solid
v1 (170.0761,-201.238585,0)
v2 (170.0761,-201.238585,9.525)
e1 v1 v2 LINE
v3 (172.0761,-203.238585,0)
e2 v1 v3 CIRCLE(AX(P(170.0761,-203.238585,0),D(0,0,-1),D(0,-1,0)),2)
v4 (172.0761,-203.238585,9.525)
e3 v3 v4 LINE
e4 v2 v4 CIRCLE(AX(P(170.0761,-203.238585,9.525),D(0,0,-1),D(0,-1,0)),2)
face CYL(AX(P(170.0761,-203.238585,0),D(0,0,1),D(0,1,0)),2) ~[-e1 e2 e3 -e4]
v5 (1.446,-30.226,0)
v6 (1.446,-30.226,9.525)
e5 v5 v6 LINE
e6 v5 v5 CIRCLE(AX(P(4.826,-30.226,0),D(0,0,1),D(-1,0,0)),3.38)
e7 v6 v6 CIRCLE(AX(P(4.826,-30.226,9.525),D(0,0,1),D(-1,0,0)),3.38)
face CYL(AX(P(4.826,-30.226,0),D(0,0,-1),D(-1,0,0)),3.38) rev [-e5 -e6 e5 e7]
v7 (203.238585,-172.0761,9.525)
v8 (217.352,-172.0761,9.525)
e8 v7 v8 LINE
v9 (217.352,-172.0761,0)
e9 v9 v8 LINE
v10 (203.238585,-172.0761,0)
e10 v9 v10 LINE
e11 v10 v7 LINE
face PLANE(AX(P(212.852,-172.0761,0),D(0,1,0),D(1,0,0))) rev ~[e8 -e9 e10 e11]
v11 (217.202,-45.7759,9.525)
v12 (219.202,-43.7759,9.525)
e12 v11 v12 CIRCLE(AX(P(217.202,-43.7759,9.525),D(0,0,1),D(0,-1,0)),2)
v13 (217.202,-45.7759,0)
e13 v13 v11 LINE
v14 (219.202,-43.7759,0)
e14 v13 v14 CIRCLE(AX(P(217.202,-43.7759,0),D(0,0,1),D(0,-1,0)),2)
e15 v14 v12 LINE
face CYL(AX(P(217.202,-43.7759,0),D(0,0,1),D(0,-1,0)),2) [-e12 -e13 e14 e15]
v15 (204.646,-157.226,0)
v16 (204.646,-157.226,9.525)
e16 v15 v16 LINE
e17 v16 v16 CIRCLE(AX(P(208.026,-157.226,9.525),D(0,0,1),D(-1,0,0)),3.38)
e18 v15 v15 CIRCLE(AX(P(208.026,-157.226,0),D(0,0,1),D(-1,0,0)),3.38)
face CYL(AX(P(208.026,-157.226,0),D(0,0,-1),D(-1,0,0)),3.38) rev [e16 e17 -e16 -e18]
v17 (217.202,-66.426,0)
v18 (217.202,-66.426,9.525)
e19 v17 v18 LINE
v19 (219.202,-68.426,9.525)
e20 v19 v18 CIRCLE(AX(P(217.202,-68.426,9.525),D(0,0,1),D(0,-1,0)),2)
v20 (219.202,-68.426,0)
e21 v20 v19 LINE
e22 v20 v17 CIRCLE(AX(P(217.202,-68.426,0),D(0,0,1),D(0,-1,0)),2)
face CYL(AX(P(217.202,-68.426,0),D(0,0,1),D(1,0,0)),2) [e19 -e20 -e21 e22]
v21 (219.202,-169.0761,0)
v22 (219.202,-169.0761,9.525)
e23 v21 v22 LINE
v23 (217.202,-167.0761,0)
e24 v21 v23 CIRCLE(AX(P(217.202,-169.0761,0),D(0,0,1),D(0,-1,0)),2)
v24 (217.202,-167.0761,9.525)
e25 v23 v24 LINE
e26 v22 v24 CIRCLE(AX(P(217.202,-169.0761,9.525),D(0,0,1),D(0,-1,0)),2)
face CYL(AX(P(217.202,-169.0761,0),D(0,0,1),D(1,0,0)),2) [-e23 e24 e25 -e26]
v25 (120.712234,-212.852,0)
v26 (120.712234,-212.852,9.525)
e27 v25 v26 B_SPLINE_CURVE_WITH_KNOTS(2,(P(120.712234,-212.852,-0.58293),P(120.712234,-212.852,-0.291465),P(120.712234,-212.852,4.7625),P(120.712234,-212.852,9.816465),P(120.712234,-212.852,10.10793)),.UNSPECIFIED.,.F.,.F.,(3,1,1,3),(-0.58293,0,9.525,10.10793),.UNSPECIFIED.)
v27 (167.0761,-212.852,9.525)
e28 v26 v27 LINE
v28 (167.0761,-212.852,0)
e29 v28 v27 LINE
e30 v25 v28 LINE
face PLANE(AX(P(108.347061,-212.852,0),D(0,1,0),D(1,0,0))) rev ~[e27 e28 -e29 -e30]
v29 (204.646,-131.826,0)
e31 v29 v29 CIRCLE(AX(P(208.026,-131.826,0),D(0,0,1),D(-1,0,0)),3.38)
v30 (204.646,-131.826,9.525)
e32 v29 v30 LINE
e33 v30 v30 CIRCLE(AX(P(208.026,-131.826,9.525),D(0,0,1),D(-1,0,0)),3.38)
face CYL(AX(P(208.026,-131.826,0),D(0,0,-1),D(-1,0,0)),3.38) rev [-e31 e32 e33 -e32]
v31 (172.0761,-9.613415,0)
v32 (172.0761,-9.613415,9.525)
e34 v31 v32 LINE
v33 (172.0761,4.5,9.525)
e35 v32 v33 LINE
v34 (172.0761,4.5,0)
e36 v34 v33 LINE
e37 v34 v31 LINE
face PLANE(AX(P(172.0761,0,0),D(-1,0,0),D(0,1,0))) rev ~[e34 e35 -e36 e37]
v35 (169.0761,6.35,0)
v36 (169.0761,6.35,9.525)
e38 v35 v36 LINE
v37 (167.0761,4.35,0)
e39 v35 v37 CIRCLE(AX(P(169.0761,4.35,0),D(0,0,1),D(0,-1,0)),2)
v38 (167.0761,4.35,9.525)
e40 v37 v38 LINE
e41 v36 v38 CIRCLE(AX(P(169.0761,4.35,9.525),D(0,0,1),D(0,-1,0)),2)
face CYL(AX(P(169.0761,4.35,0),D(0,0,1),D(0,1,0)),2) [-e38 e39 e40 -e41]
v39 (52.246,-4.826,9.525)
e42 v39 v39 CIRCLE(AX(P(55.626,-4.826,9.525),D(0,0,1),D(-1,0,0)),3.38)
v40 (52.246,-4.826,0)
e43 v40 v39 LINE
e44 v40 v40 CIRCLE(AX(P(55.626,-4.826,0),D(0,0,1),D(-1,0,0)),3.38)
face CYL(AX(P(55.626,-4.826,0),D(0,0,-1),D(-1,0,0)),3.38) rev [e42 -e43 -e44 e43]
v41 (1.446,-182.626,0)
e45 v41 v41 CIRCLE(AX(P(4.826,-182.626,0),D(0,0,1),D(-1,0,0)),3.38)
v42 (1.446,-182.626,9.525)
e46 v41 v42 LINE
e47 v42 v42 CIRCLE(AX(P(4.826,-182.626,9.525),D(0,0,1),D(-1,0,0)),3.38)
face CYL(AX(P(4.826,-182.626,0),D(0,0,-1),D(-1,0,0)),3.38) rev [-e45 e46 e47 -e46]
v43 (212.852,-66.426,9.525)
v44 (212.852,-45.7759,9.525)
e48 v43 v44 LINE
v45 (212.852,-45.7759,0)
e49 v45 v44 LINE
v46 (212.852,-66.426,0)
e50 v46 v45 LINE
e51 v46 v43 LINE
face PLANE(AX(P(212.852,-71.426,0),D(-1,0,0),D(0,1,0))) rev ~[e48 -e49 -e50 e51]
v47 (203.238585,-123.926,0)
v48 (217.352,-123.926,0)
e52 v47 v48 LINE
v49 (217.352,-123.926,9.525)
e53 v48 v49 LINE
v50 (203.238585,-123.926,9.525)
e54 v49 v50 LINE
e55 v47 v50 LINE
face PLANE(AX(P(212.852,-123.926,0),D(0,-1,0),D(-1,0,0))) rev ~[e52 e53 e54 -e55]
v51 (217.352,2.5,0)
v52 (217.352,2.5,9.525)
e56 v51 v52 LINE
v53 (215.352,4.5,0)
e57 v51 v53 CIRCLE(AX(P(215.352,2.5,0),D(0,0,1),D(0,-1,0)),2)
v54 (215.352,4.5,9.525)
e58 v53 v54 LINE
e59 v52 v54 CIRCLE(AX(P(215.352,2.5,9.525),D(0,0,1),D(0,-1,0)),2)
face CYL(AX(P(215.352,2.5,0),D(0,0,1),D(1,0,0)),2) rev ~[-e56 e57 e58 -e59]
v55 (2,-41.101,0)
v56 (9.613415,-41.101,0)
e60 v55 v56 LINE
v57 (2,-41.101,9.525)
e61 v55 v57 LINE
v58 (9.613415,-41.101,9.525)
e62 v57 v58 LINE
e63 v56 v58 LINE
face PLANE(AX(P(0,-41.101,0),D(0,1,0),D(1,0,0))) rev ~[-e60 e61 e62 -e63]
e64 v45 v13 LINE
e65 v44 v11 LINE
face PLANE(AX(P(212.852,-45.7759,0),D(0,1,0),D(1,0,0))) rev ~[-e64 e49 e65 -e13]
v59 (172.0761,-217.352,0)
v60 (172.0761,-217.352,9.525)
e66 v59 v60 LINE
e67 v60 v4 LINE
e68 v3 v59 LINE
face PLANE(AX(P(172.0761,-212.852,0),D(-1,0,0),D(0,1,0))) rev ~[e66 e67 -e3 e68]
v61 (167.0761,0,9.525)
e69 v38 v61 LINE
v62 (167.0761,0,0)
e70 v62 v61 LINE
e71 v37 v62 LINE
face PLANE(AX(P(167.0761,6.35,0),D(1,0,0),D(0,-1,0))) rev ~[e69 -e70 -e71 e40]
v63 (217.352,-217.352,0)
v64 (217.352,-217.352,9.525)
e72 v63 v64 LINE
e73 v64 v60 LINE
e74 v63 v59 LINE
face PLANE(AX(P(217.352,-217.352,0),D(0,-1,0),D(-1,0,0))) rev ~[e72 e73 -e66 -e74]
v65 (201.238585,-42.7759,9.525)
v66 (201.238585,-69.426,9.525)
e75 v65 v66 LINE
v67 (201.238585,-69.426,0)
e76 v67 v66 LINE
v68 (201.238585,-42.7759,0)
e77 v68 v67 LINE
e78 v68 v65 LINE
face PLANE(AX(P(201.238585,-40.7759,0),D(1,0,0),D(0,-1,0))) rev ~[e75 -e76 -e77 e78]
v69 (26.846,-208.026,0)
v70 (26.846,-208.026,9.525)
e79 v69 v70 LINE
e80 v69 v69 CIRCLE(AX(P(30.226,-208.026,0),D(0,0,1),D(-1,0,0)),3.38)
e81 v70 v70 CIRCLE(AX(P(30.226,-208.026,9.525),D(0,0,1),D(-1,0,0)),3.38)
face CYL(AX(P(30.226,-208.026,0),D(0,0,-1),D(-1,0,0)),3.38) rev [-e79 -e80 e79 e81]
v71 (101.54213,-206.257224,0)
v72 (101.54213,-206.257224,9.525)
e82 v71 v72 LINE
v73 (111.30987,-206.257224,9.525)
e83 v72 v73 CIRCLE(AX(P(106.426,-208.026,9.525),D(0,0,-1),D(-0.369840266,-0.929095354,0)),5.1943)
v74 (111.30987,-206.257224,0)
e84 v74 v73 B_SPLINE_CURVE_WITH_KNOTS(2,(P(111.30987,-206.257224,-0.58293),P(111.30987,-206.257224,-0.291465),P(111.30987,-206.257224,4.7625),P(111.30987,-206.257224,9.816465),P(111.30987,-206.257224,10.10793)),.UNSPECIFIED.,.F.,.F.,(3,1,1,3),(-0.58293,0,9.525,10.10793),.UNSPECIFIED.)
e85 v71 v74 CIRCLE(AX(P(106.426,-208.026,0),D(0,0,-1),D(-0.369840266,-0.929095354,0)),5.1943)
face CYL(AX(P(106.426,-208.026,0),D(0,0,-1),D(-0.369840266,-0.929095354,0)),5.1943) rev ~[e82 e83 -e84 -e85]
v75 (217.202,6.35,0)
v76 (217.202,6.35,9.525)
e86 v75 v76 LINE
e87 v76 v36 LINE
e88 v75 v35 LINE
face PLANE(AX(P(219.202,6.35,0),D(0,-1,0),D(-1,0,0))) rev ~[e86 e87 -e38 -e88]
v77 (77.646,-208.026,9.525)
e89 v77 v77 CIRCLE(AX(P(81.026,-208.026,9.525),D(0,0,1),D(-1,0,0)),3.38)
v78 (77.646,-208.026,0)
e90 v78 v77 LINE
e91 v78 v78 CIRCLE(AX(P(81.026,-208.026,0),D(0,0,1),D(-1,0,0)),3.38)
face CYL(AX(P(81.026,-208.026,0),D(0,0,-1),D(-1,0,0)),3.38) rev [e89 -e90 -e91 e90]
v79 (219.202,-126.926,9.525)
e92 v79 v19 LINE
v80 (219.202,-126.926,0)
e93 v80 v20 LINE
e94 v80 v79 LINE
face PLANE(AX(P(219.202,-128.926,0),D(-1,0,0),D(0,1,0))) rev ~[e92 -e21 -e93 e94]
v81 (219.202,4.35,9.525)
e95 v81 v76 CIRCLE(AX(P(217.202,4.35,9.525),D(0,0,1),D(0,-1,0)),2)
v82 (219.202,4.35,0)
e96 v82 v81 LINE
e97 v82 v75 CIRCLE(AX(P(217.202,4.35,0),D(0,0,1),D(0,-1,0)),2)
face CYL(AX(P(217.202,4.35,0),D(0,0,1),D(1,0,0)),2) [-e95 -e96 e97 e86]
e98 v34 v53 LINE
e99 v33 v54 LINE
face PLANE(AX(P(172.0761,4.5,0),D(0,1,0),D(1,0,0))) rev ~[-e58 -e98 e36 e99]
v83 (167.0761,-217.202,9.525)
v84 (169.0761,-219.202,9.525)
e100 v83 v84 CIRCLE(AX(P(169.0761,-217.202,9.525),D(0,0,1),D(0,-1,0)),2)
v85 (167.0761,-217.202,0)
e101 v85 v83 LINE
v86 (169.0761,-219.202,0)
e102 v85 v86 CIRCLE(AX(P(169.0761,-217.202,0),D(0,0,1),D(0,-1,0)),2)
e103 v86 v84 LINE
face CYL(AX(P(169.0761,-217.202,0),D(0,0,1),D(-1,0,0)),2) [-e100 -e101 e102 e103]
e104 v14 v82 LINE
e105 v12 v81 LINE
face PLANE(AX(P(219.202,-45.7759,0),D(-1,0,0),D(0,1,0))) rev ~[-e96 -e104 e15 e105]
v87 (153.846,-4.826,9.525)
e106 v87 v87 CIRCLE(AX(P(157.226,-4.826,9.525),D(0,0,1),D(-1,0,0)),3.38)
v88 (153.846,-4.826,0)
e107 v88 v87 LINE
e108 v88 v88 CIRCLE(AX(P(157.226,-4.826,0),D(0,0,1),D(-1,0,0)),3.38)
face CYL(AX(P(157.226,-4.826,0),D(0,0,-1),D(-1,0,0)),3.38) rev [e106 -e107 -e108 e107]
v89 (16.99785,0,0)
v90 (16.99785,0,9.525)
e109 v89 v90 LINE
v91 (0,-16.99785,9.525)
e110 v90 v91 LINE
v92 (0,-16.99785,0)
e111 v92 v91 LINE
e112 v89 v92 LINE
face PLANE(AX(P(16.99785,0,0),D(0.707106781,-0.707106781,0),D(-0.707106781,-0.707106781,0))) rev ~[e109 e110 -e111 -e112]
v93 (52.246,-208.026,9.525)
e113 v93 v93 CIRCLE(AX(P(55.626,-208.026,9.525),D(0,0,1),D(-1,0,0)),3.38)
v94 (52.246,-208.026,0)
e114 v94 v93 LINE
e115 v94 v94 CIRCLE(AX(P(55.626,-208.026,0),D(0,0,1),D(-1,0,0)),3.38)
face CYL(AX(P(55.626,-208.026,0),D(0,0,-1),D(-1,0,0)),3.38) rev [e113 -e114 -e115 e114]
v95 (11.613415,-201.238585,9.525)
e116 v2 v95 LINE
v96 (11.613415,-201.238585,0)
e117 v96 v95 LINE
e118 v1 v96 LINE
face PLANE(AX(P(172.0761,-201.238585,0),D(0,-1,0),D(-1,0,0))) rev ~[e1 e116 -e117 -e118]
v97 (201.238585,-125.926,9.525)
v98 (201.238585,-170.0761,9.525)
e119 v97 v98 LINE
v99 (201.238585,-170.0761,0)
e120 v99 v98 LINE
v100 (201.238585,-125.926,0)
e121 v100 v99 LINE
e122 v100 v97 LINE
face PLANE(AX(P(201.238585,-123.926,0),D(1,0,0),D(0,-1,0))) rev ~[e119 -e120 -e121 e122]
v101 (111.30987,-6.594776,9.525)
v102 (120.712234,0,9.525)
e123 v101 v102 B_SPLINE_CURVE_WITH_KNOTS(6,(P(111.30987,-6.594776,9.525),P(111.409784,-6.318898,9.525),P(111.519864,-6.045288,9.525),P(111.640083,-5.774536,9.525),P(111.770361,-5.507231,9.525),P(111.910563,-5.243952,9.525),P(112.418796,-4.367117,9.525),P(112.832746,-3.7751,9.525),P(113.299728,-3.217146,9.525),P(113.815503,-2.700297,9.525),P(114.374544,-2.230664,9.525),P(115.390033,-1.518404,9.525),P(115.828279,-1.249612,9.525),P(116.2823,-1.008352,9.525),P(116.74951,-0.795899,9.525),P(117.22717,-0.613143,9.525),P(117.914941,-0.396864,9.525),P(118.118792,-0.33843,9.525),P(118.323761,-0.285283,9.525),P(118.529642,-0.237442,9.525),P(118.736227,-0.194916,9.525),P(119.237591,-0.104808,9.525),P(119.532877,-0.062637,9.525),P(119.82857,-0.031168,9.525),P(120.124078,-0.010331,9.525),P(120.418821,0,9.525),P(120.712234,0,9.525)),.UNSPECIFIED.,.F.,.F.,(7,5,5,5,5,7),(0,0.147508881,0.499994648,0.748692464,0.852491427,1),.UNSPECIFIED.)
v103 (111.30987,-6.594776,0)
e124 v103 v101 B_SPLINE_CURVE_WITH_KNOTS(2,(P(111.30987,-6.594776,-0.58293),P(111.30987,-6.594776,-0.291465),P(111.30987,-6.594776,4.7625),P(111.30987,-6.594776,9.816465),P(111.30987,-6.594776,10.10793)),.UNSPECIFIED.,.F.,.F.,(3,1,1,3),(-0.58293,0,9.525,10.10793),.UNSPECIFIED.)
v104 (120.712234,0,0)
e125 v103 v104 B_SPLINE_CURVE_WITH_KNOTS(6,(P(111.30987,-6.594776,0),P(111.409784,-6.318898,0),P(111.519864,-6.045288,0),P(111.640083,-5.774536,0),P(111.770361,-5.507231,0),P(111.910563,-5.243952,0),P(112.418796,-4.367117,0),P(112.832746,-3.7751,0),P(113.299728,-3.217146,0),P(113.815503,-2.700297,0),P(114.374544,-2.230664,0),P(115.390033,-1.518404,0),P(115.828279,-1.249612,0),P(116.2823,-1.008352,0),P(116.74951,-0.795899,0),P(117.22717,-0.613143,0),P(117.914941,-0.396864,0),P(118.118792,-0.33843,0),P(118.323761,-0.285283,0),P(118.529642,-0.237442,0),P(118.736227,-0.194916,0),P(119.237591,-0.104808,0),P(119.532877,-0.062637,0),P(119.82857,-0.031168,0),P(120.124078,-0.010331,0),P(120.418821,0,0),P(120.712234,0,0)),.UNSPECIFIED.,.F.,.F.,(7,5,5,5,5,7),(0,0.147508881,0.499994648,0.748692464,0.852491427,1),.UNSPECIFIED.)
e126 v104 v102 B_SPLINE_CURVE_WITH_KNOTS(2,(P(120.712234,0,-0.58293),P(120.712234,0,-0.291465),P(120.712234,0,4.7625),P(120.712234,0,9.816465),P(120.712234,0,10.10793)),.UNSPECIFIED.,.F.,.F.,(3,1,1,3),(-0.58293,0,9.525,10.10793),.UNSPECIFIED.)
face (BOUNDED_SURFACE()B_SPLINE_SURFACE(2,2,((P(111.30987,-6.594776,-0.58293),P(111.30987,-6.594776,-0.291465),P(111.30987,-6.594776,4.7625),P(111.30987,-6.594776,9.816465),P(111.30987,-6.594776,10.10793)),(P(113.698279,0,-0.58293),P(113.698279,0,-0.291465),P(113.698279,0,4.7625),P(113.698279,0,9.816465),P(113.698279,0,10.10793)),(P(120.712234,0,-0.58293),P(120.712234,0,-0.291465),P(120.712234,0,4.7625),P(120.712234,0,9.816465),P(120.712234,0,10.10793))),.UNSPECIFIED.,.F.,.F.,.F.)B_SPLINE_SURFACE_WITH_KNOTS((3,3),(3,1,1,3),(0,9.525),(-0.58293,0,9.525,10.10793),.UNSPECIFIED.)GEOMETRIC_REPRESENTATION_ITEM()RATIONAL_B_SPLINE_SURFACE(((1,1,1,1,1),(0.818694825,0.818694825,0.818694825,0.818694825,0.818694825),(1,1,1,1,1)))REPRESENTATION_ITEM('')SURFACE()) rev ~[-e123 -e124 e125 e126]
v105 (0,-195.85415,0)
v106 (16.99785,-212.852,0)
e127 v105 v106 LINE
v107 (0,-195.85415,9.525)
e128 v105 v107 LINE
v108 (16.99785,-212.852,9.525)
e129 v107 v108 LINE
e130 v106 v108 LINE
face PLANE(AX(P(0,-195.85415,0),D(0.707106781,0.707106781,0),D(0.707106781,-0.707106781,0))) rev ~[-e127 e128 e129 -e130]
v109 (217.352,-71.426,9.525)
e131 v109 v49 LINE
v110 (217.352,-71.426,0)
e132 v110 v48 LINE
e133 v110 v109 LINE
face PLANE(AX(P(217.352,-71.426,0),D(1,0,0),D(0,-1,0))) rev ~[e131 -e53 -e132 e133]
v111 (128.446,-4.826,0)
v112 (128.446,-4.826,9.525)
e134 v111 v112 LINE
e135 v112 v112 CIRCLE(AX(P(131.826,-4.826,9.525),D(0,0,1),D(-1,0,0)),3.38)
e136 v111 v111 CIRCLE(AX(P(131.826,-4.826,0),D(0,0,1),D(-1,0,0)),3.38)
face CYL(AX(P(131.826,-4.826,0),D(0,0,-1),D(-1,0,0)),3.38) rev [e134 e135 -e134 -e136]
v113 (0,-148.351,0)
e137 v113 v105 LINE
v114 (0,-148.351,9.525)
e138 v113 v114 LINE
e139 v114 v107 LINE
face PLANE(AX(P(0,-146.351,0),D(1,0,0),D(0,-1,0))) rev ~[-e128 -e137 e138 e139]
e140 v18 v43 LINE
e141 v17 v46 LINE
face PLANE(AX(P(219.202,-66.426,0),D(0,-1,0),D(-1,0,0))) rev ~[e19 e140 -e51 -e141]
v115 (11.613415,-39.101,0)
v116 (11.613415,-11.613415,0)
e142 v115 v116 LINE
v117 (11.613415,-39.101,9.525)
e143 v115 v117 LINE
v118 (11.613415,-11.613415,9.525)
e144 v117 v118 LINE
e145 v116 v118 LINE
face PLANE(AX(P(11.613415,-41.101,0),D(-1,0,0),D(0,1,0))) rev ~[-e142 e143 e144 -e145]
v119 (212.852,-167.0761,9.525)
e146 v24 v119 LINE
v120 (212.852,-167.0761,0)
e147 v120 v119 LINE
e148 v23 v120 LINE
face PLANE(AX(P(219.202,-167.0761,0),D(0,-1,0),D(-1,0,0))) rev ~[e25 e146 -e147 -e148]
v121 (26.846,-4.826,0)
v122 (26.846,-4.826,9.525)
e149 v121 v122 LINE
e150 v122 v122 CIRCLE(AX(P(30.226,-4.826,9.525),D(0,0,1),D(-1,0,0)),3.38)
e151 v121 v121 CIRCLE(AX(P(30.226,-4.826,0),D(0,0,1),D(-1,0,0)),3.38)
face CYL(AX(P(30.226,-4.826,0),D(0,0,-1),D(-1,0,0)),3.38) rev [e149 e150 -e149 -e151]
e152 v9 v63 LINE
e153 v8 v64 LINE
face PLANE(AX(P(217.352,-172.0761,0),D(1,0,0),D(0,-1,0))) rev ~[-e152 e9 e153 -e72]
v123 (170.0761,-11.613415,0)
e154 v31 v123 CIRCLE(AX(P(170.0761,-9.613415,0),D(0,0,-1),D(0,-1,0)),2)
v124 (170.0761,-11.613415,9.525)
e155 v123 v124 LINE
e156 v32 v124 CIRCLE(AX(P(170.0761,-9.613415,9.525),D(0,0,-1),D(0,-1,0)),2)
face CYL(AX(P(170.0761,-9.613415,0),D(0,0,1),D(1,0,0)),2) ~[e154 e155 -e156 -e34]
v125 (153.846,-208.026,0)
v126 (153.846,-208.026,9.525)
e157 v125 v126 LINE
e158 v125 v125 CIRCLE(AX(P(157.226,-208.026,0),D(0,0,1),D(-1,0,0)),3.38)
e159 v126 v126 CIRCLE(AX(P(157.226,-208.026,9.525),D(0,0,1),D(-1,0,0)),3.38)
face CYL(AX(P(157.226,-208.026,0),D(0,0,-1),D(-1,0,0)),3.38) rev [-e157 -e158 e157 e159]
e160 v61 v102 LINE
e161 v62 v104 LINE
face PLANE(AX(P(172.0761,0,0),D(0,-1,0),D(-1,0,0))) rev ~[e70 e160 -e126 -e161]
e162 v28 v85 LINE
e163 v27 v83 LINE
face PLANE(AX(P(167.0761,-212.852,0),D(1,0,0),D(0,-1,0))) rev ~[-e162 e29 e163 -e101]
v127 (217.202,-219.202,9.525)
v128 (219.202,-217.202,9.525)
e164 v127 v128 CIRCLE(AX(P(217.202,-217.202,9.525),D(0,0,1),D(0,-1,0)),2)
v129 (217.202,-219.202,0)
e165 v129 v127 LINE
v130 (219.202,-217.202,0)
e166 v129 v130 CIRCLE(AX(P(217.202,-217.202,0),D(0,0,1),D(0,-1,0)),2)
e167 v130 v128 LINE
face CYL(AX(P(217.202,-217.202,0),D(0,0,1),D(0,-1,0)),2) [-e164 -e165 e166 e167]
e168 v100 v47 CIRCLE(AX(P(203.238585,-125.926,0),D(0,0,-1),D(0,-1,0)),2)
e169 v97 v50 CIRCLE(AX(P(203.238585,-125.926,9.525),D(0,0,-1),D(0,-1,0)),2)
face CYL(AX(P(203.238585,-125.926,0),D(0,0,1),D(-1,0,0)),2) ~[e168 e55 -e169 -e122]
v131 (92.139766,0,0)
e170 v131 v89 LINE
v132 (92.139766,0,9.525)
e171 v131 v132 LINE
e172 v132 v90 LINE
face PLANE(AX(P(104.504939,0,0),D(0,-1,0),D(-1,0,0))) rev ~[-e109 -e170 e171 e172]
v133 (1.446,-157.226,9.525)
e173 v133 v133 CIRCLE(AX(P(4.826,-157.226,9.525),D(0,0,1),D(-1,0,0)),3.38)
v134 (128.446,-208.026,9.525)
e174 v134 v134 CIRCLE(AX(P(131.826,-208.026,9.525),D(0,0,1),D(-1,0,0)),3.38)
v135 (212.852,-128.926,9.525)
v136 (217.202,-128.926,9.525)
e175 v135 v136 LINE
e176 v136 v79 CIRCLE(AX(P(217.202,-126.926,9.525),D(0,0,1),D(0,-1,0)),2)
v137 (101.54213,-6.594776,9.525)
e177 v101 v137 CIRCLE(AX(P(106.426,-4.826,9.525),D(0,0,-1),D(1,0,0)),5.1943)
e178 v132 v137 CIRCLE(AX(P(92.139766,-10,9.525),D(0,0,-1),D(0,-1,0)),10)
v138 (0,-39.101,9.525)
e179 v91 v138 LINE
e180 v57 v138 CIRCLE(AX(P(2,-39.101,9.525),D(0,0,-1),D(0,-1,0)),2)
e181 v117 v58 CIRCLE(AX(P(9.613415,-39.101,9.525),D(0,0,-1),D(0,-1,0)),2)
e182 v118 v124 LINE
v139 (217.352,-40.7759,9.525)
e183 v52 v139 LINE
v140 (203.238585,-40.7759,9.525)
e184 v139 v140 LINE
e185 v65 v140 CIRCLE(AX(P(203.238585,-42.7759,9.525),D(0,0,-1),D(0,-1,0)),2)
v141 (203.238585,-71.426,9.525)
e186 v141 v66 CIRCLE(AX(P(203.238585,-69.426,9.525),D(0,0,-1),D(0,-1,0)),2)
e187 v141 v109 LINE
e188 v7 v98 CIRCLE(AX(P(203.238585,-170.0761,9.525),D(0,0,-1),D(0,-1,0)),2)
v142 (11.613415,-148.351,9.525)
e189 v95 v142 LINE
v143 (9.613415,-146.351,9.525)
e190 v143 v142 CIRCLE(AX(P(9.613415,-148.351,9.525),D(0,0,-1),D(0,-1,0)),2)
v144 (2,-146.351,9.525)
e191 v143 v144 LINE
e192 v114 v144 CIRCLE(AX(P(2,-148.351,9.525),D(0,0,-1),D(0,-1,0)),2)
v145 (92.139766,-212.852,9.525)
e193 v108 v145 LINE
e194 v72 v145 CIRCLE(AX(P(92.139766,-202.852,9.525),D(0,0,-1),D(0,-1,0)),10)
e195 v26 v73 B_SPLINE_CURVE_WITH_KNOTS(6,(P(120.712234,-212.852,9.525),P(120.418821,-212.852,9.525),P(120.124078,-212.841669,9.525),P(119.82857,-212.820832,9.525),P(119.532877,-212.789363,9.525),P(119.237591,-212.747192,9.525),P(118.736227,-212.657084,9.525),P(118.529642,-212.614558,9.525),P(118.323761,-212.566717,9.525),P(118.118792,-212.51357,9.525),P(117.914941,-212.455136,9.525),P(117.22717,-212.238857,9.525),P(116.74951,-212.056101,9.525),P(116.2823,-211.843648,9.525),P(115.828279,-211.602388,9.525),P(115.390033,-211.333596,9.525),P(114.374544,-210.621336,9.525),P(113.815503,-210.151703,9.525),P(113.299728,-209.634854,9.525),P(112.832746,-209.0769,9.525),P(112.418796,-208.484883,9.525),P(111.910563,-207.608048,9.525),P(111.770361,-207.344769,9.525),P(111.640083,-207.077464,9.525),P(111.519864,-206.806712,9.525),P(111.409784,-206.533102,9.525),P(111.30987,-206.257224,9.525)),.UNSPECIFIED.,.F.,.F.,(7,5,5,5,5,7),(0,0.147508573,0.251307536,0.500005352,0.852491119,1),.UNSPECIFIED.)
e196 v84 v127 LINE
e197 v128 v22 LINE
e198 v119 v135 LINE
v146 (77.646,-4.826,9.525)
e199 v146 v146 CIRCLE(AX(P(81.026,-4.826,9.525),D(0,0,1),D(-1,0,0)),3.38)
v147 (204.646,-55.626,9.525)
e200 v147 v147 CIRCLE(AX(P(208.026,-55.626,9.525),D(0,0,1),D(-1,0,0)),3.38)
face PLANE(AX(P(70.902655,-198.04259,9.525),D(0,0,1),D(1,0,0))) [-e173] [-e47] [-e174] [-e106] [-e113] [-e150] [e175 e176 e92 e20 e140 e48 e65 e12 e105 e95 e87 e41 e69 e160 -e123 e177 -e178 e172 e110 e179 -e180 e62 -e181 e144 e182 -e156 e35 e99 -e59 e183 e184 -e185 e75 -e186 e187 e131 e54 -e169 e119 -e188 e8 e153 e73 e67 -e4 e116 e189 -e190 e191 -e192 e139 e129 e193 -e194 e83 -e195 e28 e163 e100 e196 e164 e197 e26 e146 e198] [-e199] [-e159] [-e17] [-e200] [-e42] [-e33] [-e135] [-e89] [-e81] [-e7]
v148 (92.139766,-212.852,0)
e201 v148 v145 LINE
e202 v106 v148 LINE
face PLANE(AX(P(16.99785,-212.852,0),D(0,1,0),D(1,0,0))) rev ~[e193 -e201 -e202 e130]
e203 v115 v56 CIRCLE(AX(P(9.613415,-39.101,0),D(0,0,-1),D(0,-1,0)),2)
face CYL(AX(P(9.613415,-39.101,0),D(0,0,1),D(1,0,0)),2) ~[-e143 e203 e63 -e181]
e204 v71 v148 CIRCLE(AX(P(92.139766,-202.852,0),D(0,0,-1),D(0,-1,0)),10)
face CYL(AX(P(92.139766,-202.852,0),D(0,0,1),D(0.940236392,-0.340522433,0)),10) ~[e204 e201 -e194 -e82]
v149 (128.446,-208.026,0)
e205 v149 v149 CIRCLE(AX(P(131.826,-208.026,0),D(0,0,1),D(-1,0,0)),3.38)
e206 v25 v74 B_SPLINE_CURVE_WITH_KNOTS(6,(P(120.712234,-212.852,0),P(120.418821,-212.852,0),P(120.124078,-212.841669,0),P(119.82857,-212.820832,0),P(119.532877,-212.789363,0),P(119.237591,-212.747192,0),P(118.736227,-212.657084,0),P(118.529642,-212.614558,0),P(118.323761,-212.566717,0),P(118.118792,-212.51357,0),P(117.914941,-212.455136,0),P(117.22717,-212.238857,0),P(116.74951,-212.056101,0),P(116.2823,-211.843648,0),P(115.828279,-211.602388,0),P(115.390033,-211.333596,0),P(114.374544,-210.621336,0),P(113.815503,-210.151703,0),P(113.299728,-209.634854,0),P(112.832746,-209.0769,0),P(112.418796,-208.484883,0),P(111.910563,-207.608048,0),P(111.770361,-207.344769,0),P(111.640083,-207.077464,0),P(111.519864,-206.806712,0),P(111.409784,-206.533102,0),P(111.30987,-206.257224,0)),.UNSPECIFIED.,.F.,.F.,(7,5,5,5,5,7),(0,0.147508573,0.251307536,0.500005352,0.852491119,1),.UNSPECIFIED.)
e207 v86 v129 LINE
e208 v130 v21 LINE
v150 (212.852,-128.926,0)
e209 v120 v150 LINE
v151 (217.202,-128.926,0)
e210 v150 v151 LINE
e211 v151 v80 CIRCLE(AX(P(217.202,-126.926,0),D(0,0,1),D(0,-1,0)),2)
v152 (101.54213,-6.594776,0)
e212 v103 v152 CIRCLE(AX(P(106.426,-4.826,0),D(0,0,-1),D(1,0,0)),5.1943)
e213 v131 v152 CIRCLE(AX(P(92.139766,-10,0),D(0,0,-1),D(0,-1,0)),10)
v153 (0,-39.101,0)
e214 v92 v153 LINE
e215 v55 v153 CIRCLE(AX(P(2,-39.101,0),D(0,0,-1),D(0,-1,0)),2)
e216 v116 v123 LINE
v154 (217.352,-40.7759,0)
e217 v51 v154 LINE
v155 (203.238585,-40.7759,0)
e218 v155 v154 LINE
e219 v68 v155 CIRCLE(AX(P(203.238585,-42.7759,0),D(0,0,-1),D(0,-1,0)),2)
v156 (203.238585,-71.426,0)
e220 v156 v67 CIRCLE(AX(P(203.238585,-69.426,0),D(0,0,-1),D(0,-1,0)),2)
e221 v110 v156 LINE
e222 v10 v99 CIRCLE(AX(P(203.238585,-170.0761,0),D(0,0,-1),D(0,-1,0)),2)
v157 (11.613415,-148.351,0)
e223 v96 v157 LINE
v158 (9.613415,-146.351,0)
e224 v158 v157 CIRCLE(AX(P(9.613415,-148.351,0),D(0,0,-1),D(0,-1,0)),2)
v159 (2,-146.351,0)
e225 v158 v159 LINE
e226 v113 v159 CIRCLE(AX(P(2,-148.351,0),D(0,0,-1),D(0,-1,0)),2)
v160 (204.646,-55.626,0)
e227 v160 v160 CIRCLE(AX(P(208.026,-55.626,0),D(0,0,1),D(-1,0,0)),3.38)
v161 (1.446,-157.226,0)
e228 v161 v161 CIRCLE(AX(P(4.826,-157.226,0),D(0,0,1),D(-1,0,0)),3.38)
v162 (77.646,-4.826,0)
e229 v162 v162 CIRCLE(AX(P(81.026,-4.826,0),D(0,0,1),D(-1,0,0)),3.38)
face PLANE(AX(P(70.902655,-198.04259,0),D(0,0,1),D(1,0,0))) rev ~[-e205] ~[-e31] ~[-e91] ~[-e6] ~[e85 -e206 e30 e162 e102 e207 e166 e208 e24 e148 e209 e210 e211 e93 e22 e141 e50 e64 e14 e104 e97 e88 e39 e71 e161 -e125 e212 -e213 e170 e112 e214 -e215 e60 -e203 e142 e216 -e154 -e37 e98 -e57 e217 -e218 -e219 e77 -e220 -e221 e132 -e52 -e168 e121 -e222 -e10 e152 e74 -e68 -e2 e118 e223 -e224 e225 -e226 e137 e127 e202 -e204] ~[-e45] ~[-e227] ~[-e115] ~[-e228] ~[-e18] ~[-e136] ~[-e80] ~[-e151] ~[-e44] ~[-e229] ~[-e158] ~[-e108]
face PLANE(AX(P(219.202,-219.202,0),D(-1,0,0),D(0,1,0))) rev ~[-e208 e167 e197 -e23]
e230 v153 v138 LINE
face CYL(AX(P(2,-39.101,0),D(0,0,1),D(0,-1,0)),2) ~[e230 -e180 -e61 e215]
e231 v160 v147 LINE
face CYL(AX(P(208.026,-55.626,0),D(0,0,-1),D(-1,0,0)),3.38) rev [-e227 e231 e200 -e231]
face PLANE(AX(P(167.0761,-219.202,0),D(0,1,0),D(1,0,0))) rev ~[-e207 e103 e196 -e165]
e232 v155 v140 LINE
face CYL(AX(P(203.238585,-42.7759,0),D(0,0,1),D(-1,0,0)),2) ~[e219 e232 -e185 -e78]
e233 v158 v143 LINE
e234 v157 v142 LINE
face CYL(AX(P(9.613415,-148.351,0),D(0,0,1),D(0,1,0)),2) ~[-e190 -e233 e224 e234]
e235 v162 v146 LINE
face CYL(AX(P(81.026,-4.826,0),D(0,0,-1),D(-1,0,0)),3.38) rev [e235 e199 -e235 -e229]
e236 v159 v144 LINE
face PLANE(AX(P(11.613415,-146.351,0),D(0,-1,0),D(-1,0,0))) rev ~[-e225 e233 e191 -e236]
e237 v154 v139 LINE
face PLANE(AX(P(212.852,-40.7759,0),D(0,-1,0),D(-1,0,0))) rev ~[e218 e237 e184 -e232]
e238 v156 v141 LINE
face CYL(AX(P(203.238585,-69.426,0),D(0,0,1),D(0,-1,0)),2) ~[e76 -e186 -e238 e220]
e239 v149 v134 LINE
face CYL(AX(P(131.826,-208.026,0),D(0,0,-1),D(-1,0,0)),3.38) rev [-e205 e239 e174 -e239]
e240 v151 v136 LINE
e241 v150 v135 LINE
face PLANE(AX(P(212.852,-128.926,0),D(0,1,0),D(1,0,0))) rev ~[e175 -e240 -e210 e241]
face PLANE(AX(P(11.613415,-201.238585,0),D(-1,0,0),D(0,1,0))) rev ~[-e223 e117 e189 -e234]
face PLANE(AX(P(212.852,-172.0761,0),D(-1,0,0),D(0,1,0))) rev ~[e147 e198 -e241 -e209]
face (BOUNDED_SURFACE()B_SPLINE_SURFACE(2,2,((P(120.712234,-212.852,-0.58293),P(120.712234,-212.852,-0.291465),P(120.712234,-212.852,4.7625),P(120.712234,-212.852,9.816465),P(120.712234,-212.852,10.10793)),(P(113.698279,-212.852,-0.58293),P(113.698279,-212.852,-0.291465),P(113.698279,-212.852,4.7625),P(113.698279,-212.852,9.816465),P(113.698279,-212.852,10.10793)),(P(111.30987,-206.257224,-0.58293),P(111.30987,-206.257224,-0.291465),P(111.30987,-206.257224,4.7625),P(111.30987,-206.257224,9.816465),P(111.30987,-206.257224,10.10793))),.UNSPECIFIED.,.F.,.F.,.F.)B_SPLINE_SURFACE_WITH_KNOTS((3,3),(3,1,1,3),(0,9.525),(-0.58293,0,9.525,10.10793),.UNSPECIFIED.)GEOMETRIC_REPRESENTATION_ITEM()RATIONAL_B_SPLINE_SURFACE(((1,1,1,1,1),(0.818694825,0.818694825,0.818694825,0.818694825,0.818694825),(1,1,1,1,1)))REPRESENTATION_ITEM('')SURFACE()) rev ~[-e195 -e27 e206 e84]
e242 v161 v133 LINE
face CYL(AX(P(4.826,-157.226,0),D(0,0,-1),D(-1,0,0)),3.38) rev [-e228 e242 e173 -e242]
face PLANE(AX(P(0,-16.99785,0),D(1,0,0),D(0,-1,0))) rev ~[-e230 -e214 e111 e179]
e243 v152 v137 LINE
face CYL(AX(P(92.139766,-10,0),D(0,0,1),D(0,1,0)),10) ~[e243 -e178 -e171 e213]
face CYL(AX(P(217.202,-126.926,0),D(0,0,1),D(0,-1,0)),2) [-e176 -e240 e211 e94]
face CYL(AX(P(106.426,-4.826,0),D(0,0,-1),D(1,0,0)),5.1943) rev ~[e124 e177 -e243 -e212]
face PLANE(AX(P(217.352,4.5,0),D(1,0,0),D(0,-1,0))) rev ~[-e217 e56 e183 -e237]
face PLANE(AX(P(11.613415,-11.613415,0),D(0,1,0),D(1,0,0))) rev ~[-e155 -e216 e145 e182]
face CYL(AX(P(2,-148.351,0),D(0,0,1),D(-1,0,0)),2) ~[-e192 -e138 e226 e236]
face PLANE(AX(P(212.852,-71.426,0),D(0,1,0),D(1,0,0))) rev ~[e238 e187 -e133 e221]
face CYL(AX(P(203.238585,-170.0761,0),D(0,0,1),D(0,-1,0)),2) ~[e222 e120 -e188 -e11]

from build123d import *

# Parameters (mm, degrees)
SKETCH1_R           = 3.38
BOSS_EXTRUDE1_DEPTH = 9.525
FILLET1_R           = 10
FILLET2_R           = 2


with BuildPart() as part:
    # Sketch1 → Boss-Extrude1 (new body)
    # profile 1 of 7: a face of its own
    with BuildSketch(Plane.XY):
        Polygon((212.852, -66.426), (212.852, -71.426), (217.352, -71.426), (217.352, -123.926), (212.852, -123.926), (212.852, -128.926), (219.202, -128.926), (219.202, -66.426), align=None)
    # profile 2 of 7: a face of its own
    with BuildSketch(Plane.XY):
        Polygon((212.852, -40.7759), (201.238585453, -40.7759), (201.238585453, -71.426), (212.852, -71.426), (212.852, -66.426), (212.852, -45.7759), align=None)
        with Locations(Location((208.026, -55.626, 0), (0, 0, 180))):
            Circle(SKETCH1_R, mode=Mode.SUBTRACT)
    # profile 3 of 7: a face of its own
    with BuildSketch(Plane.XY):
        Polygon((212.852, -123.926), (201.238585453, -123.926), (201.238585453, -172.0761), (212.852, -172.0761), (212.852, -167.0761), (212.852, -128.926), align=None)
        with Locations(Location((208.026, -157.226, 0), (0, 0, 180))):
            Circle(SKETCH1_R, mode=Mode.SUBTRACT)
        with Locations(Location((208.026, -131.826, 0), (0, 0, 180))):
            Circle(SKETCH1_R, mode=Mode.SUBTRACT)
    # profile 4 of 7: a face of its own
    with BuildSketch(Plane.XY):
        Polygon((172.0761, -217.352), (172.0761, -212.852), (167.0761, -212.852), (167.0761, -219.202), (219.202, -219.202), (219.202, -167.0761), (212.852, -167.0761), (212.852, -172.0761), (217.352, -172.0761), (217.352, -217.352), align=None)
    # profile 5 of 7: a face of its own
    with BuildSketch(Plane.XY):
        Polygon((167.0761, 0), (172.0761, 0), (172.0761, 4.5), (217.352, 4.5), (217.352, -40.7759), (212.852, -40.7759), (212.852, -45.7759), (219.202, -45.7759), (219.202, 6.35), (167.0761, 6.35), align=None)
    # profile 6 of 7: a face of its own
    with BuildSketch(Plane.XY):
        with BuildLine():
            Line((11.613414547, -41.101), (11.613414547, -11.613414547))
            Line((11.613414547, -11.613414547), (172.0761, -11.613414547))
            Line((172.0761, -11.613414547), (172.0761, 0))
            Line((172.0761, 0), (167.0761, 0))
            Line((167.0761, 0), (108.347061293, 0))
            ThreePointArc((108.347061293, 0), (110.724797574, -1.910336798), (111.6203, -4.826))
            ThreePointArc((111.6203, -4.826), (103.510336798, -9.124797574), (104.504938707, 0))
            Line((104.504938707, 0), (16.997849507, 0))
            Line((16.997849507, 0), (0, -16.997849507))
            Line((0, -16.997849507), (0, -41.101))
            Line((0, -41.101), (11.613414547, -41.101))
        make_face()
        with Locations(Location((4.826, -30.226, 0), (0, 0, 180))):
            Circle(SKETCH1_R, mode=Mode.SUBTRACT)
        with Locations(Location((30.226, -4.826, 0), (0, 0, 180))):
            Circle(SKETCH1_R, mode=Mode.SUBTRACT)
        with Locations(Location((55.626, -4.826, 0), (0, 0, 180))):
            Circle(SKETCH1_R, mode=Mode.SUBTRACT)
        with Locations(Location((81.026, -4.826, 0), (0, 0, 180))):
            Circle(SKETCH1_R, mode=Mode.SUBTRACT)
        with Locations(Location((131.826, -4.826, 0), (0, 0, 180))):
            Circle(SKETCH1_R, mode=Mode.SUBTRACT)
        with Locations(Location((157.226, -4.826, 0), (0, 0, 180))):
            Circle(SKETCH1_R, mode=Mode.SUBTRACT)
    # profile 7 of 7: a face of its own
    with BuildSketch(Plane.XY):
        with BuildLine():
            Line((11.613414547, -201.238585453), (11.613414547, -146.351))
            Line((11.613414547, -146.351), (0, -146.351))
            Line((0, -146.351), (0, -195.854150493))
            Line((0, -195.854150493), (16.997849507, -212.852))
            Line((16.997849507, -212.852), (104.504938707, -212.852))
            ThreePointArc((104.504938707, -212.852), (103.510336798, -203.727202426), (111.6203, -208.026))
            ThreePointArc((111.6203, -208.026), (110.724797574, -210.941663202), (108.347061293, -212.852))
            Line((108.347061293, -212.852), (167.0761, -212.852))
            Line((167.0761, -212.852), (172.0761, -212.852))
            Line((172.0761, -212.852), (172.0761, -201.238585453))
            Line((172.0761, -201.238585453), (11.613414547, -201.238585453))
        make_face()
        with Locations(Location((30.226, -208.026, 0), (0, 0, 180))):
            Circle(SKETCH1_R, mode=Mode.SUBTRACT)
        with Locations(Location((4.826, -182.626, 0), (0, 0, 180))):
            Circle(SKETCH1_R, mode=Mode.SUBTRACT)
        with Locations(Location((55.626, -208.026, 0), (0, 0, 180))):
            Circle(SKETCH1_R, mode=Mode.SUBTRACT)
        with Locations(Location((81.026, -208.026, 0), (0, 0, 180))):
            Circle(SKETCH1_R, mode=Mode.SUBTRACT)
        with Locations(Location((4.826, -157.226, 0), (0, 0, 180))):
            Circle(SKETCH1_R, mode=Mode.SUBTRACT)
        with Locations(Location((131.826, -208.026, 0), (0, 0, 180))):
            Circle(SKETCH1_R, mode=Mode.SUBTRACT)
        with Locations(Location((157.226, -208.026, 0), (0, 0, 180))):
            Circle(SKETCH1_R, mode=Mode.SUBTRACT)
    extrude(amount=BOSS_EXTRUDE1_DEPTH)

    # Fillet1
    fillet1_edges = [part.edges().sort_by_distance(p)[0] for p in [
        (108.347061293, -212.852, 4.7625),
        (104.504938707, -212.852, 4.7625),
        (104.504938707, 0, 4.7625),
        (108.347061293, 0, 4.7625),
    ]]
    fillet(fillet1_edges, radius=FILLET1_R)

    # Fillet2
    fillet2_edges = [part.edges().sort_by_distance(p)[0] for p in [
        (219.202, -128.926, 4.7625),
        (219.202, -167.0761, 4.7625),
        (219.202, -219.202, 4.7625),
        (167.0761, -219.202, 4.7625),
        (0, -146.351, 4.7625),
        (11.613414547, -146.351, 4.7625),
        (172.0761, -201.238585453, 4.7625),
        (201.238585453, -172.0761, 4.7625),
        (201.238585453, -123.926, 4.7625),
        (201.238585453, -71.426, 4.7625),
        (201.238585453, -40.7759, 4.7625),
        (217.352, 4.5, 4.7625),
        (172.0761, -11.613414547, 4.7625),
        (11.613414547, -41.101, 4.7625),
        (0, -41.101, 4.7625),
        (167.0761, 6.35, 4.7625),
        (219.202, 6.35, 4.7625),
        (219.202, -45.7759, 4.7625),
        (219.202, -66.426, 4.7625),
    ]]
    fillet(fillet2_edges, radius=FILLET2_R)


solid = part.part
